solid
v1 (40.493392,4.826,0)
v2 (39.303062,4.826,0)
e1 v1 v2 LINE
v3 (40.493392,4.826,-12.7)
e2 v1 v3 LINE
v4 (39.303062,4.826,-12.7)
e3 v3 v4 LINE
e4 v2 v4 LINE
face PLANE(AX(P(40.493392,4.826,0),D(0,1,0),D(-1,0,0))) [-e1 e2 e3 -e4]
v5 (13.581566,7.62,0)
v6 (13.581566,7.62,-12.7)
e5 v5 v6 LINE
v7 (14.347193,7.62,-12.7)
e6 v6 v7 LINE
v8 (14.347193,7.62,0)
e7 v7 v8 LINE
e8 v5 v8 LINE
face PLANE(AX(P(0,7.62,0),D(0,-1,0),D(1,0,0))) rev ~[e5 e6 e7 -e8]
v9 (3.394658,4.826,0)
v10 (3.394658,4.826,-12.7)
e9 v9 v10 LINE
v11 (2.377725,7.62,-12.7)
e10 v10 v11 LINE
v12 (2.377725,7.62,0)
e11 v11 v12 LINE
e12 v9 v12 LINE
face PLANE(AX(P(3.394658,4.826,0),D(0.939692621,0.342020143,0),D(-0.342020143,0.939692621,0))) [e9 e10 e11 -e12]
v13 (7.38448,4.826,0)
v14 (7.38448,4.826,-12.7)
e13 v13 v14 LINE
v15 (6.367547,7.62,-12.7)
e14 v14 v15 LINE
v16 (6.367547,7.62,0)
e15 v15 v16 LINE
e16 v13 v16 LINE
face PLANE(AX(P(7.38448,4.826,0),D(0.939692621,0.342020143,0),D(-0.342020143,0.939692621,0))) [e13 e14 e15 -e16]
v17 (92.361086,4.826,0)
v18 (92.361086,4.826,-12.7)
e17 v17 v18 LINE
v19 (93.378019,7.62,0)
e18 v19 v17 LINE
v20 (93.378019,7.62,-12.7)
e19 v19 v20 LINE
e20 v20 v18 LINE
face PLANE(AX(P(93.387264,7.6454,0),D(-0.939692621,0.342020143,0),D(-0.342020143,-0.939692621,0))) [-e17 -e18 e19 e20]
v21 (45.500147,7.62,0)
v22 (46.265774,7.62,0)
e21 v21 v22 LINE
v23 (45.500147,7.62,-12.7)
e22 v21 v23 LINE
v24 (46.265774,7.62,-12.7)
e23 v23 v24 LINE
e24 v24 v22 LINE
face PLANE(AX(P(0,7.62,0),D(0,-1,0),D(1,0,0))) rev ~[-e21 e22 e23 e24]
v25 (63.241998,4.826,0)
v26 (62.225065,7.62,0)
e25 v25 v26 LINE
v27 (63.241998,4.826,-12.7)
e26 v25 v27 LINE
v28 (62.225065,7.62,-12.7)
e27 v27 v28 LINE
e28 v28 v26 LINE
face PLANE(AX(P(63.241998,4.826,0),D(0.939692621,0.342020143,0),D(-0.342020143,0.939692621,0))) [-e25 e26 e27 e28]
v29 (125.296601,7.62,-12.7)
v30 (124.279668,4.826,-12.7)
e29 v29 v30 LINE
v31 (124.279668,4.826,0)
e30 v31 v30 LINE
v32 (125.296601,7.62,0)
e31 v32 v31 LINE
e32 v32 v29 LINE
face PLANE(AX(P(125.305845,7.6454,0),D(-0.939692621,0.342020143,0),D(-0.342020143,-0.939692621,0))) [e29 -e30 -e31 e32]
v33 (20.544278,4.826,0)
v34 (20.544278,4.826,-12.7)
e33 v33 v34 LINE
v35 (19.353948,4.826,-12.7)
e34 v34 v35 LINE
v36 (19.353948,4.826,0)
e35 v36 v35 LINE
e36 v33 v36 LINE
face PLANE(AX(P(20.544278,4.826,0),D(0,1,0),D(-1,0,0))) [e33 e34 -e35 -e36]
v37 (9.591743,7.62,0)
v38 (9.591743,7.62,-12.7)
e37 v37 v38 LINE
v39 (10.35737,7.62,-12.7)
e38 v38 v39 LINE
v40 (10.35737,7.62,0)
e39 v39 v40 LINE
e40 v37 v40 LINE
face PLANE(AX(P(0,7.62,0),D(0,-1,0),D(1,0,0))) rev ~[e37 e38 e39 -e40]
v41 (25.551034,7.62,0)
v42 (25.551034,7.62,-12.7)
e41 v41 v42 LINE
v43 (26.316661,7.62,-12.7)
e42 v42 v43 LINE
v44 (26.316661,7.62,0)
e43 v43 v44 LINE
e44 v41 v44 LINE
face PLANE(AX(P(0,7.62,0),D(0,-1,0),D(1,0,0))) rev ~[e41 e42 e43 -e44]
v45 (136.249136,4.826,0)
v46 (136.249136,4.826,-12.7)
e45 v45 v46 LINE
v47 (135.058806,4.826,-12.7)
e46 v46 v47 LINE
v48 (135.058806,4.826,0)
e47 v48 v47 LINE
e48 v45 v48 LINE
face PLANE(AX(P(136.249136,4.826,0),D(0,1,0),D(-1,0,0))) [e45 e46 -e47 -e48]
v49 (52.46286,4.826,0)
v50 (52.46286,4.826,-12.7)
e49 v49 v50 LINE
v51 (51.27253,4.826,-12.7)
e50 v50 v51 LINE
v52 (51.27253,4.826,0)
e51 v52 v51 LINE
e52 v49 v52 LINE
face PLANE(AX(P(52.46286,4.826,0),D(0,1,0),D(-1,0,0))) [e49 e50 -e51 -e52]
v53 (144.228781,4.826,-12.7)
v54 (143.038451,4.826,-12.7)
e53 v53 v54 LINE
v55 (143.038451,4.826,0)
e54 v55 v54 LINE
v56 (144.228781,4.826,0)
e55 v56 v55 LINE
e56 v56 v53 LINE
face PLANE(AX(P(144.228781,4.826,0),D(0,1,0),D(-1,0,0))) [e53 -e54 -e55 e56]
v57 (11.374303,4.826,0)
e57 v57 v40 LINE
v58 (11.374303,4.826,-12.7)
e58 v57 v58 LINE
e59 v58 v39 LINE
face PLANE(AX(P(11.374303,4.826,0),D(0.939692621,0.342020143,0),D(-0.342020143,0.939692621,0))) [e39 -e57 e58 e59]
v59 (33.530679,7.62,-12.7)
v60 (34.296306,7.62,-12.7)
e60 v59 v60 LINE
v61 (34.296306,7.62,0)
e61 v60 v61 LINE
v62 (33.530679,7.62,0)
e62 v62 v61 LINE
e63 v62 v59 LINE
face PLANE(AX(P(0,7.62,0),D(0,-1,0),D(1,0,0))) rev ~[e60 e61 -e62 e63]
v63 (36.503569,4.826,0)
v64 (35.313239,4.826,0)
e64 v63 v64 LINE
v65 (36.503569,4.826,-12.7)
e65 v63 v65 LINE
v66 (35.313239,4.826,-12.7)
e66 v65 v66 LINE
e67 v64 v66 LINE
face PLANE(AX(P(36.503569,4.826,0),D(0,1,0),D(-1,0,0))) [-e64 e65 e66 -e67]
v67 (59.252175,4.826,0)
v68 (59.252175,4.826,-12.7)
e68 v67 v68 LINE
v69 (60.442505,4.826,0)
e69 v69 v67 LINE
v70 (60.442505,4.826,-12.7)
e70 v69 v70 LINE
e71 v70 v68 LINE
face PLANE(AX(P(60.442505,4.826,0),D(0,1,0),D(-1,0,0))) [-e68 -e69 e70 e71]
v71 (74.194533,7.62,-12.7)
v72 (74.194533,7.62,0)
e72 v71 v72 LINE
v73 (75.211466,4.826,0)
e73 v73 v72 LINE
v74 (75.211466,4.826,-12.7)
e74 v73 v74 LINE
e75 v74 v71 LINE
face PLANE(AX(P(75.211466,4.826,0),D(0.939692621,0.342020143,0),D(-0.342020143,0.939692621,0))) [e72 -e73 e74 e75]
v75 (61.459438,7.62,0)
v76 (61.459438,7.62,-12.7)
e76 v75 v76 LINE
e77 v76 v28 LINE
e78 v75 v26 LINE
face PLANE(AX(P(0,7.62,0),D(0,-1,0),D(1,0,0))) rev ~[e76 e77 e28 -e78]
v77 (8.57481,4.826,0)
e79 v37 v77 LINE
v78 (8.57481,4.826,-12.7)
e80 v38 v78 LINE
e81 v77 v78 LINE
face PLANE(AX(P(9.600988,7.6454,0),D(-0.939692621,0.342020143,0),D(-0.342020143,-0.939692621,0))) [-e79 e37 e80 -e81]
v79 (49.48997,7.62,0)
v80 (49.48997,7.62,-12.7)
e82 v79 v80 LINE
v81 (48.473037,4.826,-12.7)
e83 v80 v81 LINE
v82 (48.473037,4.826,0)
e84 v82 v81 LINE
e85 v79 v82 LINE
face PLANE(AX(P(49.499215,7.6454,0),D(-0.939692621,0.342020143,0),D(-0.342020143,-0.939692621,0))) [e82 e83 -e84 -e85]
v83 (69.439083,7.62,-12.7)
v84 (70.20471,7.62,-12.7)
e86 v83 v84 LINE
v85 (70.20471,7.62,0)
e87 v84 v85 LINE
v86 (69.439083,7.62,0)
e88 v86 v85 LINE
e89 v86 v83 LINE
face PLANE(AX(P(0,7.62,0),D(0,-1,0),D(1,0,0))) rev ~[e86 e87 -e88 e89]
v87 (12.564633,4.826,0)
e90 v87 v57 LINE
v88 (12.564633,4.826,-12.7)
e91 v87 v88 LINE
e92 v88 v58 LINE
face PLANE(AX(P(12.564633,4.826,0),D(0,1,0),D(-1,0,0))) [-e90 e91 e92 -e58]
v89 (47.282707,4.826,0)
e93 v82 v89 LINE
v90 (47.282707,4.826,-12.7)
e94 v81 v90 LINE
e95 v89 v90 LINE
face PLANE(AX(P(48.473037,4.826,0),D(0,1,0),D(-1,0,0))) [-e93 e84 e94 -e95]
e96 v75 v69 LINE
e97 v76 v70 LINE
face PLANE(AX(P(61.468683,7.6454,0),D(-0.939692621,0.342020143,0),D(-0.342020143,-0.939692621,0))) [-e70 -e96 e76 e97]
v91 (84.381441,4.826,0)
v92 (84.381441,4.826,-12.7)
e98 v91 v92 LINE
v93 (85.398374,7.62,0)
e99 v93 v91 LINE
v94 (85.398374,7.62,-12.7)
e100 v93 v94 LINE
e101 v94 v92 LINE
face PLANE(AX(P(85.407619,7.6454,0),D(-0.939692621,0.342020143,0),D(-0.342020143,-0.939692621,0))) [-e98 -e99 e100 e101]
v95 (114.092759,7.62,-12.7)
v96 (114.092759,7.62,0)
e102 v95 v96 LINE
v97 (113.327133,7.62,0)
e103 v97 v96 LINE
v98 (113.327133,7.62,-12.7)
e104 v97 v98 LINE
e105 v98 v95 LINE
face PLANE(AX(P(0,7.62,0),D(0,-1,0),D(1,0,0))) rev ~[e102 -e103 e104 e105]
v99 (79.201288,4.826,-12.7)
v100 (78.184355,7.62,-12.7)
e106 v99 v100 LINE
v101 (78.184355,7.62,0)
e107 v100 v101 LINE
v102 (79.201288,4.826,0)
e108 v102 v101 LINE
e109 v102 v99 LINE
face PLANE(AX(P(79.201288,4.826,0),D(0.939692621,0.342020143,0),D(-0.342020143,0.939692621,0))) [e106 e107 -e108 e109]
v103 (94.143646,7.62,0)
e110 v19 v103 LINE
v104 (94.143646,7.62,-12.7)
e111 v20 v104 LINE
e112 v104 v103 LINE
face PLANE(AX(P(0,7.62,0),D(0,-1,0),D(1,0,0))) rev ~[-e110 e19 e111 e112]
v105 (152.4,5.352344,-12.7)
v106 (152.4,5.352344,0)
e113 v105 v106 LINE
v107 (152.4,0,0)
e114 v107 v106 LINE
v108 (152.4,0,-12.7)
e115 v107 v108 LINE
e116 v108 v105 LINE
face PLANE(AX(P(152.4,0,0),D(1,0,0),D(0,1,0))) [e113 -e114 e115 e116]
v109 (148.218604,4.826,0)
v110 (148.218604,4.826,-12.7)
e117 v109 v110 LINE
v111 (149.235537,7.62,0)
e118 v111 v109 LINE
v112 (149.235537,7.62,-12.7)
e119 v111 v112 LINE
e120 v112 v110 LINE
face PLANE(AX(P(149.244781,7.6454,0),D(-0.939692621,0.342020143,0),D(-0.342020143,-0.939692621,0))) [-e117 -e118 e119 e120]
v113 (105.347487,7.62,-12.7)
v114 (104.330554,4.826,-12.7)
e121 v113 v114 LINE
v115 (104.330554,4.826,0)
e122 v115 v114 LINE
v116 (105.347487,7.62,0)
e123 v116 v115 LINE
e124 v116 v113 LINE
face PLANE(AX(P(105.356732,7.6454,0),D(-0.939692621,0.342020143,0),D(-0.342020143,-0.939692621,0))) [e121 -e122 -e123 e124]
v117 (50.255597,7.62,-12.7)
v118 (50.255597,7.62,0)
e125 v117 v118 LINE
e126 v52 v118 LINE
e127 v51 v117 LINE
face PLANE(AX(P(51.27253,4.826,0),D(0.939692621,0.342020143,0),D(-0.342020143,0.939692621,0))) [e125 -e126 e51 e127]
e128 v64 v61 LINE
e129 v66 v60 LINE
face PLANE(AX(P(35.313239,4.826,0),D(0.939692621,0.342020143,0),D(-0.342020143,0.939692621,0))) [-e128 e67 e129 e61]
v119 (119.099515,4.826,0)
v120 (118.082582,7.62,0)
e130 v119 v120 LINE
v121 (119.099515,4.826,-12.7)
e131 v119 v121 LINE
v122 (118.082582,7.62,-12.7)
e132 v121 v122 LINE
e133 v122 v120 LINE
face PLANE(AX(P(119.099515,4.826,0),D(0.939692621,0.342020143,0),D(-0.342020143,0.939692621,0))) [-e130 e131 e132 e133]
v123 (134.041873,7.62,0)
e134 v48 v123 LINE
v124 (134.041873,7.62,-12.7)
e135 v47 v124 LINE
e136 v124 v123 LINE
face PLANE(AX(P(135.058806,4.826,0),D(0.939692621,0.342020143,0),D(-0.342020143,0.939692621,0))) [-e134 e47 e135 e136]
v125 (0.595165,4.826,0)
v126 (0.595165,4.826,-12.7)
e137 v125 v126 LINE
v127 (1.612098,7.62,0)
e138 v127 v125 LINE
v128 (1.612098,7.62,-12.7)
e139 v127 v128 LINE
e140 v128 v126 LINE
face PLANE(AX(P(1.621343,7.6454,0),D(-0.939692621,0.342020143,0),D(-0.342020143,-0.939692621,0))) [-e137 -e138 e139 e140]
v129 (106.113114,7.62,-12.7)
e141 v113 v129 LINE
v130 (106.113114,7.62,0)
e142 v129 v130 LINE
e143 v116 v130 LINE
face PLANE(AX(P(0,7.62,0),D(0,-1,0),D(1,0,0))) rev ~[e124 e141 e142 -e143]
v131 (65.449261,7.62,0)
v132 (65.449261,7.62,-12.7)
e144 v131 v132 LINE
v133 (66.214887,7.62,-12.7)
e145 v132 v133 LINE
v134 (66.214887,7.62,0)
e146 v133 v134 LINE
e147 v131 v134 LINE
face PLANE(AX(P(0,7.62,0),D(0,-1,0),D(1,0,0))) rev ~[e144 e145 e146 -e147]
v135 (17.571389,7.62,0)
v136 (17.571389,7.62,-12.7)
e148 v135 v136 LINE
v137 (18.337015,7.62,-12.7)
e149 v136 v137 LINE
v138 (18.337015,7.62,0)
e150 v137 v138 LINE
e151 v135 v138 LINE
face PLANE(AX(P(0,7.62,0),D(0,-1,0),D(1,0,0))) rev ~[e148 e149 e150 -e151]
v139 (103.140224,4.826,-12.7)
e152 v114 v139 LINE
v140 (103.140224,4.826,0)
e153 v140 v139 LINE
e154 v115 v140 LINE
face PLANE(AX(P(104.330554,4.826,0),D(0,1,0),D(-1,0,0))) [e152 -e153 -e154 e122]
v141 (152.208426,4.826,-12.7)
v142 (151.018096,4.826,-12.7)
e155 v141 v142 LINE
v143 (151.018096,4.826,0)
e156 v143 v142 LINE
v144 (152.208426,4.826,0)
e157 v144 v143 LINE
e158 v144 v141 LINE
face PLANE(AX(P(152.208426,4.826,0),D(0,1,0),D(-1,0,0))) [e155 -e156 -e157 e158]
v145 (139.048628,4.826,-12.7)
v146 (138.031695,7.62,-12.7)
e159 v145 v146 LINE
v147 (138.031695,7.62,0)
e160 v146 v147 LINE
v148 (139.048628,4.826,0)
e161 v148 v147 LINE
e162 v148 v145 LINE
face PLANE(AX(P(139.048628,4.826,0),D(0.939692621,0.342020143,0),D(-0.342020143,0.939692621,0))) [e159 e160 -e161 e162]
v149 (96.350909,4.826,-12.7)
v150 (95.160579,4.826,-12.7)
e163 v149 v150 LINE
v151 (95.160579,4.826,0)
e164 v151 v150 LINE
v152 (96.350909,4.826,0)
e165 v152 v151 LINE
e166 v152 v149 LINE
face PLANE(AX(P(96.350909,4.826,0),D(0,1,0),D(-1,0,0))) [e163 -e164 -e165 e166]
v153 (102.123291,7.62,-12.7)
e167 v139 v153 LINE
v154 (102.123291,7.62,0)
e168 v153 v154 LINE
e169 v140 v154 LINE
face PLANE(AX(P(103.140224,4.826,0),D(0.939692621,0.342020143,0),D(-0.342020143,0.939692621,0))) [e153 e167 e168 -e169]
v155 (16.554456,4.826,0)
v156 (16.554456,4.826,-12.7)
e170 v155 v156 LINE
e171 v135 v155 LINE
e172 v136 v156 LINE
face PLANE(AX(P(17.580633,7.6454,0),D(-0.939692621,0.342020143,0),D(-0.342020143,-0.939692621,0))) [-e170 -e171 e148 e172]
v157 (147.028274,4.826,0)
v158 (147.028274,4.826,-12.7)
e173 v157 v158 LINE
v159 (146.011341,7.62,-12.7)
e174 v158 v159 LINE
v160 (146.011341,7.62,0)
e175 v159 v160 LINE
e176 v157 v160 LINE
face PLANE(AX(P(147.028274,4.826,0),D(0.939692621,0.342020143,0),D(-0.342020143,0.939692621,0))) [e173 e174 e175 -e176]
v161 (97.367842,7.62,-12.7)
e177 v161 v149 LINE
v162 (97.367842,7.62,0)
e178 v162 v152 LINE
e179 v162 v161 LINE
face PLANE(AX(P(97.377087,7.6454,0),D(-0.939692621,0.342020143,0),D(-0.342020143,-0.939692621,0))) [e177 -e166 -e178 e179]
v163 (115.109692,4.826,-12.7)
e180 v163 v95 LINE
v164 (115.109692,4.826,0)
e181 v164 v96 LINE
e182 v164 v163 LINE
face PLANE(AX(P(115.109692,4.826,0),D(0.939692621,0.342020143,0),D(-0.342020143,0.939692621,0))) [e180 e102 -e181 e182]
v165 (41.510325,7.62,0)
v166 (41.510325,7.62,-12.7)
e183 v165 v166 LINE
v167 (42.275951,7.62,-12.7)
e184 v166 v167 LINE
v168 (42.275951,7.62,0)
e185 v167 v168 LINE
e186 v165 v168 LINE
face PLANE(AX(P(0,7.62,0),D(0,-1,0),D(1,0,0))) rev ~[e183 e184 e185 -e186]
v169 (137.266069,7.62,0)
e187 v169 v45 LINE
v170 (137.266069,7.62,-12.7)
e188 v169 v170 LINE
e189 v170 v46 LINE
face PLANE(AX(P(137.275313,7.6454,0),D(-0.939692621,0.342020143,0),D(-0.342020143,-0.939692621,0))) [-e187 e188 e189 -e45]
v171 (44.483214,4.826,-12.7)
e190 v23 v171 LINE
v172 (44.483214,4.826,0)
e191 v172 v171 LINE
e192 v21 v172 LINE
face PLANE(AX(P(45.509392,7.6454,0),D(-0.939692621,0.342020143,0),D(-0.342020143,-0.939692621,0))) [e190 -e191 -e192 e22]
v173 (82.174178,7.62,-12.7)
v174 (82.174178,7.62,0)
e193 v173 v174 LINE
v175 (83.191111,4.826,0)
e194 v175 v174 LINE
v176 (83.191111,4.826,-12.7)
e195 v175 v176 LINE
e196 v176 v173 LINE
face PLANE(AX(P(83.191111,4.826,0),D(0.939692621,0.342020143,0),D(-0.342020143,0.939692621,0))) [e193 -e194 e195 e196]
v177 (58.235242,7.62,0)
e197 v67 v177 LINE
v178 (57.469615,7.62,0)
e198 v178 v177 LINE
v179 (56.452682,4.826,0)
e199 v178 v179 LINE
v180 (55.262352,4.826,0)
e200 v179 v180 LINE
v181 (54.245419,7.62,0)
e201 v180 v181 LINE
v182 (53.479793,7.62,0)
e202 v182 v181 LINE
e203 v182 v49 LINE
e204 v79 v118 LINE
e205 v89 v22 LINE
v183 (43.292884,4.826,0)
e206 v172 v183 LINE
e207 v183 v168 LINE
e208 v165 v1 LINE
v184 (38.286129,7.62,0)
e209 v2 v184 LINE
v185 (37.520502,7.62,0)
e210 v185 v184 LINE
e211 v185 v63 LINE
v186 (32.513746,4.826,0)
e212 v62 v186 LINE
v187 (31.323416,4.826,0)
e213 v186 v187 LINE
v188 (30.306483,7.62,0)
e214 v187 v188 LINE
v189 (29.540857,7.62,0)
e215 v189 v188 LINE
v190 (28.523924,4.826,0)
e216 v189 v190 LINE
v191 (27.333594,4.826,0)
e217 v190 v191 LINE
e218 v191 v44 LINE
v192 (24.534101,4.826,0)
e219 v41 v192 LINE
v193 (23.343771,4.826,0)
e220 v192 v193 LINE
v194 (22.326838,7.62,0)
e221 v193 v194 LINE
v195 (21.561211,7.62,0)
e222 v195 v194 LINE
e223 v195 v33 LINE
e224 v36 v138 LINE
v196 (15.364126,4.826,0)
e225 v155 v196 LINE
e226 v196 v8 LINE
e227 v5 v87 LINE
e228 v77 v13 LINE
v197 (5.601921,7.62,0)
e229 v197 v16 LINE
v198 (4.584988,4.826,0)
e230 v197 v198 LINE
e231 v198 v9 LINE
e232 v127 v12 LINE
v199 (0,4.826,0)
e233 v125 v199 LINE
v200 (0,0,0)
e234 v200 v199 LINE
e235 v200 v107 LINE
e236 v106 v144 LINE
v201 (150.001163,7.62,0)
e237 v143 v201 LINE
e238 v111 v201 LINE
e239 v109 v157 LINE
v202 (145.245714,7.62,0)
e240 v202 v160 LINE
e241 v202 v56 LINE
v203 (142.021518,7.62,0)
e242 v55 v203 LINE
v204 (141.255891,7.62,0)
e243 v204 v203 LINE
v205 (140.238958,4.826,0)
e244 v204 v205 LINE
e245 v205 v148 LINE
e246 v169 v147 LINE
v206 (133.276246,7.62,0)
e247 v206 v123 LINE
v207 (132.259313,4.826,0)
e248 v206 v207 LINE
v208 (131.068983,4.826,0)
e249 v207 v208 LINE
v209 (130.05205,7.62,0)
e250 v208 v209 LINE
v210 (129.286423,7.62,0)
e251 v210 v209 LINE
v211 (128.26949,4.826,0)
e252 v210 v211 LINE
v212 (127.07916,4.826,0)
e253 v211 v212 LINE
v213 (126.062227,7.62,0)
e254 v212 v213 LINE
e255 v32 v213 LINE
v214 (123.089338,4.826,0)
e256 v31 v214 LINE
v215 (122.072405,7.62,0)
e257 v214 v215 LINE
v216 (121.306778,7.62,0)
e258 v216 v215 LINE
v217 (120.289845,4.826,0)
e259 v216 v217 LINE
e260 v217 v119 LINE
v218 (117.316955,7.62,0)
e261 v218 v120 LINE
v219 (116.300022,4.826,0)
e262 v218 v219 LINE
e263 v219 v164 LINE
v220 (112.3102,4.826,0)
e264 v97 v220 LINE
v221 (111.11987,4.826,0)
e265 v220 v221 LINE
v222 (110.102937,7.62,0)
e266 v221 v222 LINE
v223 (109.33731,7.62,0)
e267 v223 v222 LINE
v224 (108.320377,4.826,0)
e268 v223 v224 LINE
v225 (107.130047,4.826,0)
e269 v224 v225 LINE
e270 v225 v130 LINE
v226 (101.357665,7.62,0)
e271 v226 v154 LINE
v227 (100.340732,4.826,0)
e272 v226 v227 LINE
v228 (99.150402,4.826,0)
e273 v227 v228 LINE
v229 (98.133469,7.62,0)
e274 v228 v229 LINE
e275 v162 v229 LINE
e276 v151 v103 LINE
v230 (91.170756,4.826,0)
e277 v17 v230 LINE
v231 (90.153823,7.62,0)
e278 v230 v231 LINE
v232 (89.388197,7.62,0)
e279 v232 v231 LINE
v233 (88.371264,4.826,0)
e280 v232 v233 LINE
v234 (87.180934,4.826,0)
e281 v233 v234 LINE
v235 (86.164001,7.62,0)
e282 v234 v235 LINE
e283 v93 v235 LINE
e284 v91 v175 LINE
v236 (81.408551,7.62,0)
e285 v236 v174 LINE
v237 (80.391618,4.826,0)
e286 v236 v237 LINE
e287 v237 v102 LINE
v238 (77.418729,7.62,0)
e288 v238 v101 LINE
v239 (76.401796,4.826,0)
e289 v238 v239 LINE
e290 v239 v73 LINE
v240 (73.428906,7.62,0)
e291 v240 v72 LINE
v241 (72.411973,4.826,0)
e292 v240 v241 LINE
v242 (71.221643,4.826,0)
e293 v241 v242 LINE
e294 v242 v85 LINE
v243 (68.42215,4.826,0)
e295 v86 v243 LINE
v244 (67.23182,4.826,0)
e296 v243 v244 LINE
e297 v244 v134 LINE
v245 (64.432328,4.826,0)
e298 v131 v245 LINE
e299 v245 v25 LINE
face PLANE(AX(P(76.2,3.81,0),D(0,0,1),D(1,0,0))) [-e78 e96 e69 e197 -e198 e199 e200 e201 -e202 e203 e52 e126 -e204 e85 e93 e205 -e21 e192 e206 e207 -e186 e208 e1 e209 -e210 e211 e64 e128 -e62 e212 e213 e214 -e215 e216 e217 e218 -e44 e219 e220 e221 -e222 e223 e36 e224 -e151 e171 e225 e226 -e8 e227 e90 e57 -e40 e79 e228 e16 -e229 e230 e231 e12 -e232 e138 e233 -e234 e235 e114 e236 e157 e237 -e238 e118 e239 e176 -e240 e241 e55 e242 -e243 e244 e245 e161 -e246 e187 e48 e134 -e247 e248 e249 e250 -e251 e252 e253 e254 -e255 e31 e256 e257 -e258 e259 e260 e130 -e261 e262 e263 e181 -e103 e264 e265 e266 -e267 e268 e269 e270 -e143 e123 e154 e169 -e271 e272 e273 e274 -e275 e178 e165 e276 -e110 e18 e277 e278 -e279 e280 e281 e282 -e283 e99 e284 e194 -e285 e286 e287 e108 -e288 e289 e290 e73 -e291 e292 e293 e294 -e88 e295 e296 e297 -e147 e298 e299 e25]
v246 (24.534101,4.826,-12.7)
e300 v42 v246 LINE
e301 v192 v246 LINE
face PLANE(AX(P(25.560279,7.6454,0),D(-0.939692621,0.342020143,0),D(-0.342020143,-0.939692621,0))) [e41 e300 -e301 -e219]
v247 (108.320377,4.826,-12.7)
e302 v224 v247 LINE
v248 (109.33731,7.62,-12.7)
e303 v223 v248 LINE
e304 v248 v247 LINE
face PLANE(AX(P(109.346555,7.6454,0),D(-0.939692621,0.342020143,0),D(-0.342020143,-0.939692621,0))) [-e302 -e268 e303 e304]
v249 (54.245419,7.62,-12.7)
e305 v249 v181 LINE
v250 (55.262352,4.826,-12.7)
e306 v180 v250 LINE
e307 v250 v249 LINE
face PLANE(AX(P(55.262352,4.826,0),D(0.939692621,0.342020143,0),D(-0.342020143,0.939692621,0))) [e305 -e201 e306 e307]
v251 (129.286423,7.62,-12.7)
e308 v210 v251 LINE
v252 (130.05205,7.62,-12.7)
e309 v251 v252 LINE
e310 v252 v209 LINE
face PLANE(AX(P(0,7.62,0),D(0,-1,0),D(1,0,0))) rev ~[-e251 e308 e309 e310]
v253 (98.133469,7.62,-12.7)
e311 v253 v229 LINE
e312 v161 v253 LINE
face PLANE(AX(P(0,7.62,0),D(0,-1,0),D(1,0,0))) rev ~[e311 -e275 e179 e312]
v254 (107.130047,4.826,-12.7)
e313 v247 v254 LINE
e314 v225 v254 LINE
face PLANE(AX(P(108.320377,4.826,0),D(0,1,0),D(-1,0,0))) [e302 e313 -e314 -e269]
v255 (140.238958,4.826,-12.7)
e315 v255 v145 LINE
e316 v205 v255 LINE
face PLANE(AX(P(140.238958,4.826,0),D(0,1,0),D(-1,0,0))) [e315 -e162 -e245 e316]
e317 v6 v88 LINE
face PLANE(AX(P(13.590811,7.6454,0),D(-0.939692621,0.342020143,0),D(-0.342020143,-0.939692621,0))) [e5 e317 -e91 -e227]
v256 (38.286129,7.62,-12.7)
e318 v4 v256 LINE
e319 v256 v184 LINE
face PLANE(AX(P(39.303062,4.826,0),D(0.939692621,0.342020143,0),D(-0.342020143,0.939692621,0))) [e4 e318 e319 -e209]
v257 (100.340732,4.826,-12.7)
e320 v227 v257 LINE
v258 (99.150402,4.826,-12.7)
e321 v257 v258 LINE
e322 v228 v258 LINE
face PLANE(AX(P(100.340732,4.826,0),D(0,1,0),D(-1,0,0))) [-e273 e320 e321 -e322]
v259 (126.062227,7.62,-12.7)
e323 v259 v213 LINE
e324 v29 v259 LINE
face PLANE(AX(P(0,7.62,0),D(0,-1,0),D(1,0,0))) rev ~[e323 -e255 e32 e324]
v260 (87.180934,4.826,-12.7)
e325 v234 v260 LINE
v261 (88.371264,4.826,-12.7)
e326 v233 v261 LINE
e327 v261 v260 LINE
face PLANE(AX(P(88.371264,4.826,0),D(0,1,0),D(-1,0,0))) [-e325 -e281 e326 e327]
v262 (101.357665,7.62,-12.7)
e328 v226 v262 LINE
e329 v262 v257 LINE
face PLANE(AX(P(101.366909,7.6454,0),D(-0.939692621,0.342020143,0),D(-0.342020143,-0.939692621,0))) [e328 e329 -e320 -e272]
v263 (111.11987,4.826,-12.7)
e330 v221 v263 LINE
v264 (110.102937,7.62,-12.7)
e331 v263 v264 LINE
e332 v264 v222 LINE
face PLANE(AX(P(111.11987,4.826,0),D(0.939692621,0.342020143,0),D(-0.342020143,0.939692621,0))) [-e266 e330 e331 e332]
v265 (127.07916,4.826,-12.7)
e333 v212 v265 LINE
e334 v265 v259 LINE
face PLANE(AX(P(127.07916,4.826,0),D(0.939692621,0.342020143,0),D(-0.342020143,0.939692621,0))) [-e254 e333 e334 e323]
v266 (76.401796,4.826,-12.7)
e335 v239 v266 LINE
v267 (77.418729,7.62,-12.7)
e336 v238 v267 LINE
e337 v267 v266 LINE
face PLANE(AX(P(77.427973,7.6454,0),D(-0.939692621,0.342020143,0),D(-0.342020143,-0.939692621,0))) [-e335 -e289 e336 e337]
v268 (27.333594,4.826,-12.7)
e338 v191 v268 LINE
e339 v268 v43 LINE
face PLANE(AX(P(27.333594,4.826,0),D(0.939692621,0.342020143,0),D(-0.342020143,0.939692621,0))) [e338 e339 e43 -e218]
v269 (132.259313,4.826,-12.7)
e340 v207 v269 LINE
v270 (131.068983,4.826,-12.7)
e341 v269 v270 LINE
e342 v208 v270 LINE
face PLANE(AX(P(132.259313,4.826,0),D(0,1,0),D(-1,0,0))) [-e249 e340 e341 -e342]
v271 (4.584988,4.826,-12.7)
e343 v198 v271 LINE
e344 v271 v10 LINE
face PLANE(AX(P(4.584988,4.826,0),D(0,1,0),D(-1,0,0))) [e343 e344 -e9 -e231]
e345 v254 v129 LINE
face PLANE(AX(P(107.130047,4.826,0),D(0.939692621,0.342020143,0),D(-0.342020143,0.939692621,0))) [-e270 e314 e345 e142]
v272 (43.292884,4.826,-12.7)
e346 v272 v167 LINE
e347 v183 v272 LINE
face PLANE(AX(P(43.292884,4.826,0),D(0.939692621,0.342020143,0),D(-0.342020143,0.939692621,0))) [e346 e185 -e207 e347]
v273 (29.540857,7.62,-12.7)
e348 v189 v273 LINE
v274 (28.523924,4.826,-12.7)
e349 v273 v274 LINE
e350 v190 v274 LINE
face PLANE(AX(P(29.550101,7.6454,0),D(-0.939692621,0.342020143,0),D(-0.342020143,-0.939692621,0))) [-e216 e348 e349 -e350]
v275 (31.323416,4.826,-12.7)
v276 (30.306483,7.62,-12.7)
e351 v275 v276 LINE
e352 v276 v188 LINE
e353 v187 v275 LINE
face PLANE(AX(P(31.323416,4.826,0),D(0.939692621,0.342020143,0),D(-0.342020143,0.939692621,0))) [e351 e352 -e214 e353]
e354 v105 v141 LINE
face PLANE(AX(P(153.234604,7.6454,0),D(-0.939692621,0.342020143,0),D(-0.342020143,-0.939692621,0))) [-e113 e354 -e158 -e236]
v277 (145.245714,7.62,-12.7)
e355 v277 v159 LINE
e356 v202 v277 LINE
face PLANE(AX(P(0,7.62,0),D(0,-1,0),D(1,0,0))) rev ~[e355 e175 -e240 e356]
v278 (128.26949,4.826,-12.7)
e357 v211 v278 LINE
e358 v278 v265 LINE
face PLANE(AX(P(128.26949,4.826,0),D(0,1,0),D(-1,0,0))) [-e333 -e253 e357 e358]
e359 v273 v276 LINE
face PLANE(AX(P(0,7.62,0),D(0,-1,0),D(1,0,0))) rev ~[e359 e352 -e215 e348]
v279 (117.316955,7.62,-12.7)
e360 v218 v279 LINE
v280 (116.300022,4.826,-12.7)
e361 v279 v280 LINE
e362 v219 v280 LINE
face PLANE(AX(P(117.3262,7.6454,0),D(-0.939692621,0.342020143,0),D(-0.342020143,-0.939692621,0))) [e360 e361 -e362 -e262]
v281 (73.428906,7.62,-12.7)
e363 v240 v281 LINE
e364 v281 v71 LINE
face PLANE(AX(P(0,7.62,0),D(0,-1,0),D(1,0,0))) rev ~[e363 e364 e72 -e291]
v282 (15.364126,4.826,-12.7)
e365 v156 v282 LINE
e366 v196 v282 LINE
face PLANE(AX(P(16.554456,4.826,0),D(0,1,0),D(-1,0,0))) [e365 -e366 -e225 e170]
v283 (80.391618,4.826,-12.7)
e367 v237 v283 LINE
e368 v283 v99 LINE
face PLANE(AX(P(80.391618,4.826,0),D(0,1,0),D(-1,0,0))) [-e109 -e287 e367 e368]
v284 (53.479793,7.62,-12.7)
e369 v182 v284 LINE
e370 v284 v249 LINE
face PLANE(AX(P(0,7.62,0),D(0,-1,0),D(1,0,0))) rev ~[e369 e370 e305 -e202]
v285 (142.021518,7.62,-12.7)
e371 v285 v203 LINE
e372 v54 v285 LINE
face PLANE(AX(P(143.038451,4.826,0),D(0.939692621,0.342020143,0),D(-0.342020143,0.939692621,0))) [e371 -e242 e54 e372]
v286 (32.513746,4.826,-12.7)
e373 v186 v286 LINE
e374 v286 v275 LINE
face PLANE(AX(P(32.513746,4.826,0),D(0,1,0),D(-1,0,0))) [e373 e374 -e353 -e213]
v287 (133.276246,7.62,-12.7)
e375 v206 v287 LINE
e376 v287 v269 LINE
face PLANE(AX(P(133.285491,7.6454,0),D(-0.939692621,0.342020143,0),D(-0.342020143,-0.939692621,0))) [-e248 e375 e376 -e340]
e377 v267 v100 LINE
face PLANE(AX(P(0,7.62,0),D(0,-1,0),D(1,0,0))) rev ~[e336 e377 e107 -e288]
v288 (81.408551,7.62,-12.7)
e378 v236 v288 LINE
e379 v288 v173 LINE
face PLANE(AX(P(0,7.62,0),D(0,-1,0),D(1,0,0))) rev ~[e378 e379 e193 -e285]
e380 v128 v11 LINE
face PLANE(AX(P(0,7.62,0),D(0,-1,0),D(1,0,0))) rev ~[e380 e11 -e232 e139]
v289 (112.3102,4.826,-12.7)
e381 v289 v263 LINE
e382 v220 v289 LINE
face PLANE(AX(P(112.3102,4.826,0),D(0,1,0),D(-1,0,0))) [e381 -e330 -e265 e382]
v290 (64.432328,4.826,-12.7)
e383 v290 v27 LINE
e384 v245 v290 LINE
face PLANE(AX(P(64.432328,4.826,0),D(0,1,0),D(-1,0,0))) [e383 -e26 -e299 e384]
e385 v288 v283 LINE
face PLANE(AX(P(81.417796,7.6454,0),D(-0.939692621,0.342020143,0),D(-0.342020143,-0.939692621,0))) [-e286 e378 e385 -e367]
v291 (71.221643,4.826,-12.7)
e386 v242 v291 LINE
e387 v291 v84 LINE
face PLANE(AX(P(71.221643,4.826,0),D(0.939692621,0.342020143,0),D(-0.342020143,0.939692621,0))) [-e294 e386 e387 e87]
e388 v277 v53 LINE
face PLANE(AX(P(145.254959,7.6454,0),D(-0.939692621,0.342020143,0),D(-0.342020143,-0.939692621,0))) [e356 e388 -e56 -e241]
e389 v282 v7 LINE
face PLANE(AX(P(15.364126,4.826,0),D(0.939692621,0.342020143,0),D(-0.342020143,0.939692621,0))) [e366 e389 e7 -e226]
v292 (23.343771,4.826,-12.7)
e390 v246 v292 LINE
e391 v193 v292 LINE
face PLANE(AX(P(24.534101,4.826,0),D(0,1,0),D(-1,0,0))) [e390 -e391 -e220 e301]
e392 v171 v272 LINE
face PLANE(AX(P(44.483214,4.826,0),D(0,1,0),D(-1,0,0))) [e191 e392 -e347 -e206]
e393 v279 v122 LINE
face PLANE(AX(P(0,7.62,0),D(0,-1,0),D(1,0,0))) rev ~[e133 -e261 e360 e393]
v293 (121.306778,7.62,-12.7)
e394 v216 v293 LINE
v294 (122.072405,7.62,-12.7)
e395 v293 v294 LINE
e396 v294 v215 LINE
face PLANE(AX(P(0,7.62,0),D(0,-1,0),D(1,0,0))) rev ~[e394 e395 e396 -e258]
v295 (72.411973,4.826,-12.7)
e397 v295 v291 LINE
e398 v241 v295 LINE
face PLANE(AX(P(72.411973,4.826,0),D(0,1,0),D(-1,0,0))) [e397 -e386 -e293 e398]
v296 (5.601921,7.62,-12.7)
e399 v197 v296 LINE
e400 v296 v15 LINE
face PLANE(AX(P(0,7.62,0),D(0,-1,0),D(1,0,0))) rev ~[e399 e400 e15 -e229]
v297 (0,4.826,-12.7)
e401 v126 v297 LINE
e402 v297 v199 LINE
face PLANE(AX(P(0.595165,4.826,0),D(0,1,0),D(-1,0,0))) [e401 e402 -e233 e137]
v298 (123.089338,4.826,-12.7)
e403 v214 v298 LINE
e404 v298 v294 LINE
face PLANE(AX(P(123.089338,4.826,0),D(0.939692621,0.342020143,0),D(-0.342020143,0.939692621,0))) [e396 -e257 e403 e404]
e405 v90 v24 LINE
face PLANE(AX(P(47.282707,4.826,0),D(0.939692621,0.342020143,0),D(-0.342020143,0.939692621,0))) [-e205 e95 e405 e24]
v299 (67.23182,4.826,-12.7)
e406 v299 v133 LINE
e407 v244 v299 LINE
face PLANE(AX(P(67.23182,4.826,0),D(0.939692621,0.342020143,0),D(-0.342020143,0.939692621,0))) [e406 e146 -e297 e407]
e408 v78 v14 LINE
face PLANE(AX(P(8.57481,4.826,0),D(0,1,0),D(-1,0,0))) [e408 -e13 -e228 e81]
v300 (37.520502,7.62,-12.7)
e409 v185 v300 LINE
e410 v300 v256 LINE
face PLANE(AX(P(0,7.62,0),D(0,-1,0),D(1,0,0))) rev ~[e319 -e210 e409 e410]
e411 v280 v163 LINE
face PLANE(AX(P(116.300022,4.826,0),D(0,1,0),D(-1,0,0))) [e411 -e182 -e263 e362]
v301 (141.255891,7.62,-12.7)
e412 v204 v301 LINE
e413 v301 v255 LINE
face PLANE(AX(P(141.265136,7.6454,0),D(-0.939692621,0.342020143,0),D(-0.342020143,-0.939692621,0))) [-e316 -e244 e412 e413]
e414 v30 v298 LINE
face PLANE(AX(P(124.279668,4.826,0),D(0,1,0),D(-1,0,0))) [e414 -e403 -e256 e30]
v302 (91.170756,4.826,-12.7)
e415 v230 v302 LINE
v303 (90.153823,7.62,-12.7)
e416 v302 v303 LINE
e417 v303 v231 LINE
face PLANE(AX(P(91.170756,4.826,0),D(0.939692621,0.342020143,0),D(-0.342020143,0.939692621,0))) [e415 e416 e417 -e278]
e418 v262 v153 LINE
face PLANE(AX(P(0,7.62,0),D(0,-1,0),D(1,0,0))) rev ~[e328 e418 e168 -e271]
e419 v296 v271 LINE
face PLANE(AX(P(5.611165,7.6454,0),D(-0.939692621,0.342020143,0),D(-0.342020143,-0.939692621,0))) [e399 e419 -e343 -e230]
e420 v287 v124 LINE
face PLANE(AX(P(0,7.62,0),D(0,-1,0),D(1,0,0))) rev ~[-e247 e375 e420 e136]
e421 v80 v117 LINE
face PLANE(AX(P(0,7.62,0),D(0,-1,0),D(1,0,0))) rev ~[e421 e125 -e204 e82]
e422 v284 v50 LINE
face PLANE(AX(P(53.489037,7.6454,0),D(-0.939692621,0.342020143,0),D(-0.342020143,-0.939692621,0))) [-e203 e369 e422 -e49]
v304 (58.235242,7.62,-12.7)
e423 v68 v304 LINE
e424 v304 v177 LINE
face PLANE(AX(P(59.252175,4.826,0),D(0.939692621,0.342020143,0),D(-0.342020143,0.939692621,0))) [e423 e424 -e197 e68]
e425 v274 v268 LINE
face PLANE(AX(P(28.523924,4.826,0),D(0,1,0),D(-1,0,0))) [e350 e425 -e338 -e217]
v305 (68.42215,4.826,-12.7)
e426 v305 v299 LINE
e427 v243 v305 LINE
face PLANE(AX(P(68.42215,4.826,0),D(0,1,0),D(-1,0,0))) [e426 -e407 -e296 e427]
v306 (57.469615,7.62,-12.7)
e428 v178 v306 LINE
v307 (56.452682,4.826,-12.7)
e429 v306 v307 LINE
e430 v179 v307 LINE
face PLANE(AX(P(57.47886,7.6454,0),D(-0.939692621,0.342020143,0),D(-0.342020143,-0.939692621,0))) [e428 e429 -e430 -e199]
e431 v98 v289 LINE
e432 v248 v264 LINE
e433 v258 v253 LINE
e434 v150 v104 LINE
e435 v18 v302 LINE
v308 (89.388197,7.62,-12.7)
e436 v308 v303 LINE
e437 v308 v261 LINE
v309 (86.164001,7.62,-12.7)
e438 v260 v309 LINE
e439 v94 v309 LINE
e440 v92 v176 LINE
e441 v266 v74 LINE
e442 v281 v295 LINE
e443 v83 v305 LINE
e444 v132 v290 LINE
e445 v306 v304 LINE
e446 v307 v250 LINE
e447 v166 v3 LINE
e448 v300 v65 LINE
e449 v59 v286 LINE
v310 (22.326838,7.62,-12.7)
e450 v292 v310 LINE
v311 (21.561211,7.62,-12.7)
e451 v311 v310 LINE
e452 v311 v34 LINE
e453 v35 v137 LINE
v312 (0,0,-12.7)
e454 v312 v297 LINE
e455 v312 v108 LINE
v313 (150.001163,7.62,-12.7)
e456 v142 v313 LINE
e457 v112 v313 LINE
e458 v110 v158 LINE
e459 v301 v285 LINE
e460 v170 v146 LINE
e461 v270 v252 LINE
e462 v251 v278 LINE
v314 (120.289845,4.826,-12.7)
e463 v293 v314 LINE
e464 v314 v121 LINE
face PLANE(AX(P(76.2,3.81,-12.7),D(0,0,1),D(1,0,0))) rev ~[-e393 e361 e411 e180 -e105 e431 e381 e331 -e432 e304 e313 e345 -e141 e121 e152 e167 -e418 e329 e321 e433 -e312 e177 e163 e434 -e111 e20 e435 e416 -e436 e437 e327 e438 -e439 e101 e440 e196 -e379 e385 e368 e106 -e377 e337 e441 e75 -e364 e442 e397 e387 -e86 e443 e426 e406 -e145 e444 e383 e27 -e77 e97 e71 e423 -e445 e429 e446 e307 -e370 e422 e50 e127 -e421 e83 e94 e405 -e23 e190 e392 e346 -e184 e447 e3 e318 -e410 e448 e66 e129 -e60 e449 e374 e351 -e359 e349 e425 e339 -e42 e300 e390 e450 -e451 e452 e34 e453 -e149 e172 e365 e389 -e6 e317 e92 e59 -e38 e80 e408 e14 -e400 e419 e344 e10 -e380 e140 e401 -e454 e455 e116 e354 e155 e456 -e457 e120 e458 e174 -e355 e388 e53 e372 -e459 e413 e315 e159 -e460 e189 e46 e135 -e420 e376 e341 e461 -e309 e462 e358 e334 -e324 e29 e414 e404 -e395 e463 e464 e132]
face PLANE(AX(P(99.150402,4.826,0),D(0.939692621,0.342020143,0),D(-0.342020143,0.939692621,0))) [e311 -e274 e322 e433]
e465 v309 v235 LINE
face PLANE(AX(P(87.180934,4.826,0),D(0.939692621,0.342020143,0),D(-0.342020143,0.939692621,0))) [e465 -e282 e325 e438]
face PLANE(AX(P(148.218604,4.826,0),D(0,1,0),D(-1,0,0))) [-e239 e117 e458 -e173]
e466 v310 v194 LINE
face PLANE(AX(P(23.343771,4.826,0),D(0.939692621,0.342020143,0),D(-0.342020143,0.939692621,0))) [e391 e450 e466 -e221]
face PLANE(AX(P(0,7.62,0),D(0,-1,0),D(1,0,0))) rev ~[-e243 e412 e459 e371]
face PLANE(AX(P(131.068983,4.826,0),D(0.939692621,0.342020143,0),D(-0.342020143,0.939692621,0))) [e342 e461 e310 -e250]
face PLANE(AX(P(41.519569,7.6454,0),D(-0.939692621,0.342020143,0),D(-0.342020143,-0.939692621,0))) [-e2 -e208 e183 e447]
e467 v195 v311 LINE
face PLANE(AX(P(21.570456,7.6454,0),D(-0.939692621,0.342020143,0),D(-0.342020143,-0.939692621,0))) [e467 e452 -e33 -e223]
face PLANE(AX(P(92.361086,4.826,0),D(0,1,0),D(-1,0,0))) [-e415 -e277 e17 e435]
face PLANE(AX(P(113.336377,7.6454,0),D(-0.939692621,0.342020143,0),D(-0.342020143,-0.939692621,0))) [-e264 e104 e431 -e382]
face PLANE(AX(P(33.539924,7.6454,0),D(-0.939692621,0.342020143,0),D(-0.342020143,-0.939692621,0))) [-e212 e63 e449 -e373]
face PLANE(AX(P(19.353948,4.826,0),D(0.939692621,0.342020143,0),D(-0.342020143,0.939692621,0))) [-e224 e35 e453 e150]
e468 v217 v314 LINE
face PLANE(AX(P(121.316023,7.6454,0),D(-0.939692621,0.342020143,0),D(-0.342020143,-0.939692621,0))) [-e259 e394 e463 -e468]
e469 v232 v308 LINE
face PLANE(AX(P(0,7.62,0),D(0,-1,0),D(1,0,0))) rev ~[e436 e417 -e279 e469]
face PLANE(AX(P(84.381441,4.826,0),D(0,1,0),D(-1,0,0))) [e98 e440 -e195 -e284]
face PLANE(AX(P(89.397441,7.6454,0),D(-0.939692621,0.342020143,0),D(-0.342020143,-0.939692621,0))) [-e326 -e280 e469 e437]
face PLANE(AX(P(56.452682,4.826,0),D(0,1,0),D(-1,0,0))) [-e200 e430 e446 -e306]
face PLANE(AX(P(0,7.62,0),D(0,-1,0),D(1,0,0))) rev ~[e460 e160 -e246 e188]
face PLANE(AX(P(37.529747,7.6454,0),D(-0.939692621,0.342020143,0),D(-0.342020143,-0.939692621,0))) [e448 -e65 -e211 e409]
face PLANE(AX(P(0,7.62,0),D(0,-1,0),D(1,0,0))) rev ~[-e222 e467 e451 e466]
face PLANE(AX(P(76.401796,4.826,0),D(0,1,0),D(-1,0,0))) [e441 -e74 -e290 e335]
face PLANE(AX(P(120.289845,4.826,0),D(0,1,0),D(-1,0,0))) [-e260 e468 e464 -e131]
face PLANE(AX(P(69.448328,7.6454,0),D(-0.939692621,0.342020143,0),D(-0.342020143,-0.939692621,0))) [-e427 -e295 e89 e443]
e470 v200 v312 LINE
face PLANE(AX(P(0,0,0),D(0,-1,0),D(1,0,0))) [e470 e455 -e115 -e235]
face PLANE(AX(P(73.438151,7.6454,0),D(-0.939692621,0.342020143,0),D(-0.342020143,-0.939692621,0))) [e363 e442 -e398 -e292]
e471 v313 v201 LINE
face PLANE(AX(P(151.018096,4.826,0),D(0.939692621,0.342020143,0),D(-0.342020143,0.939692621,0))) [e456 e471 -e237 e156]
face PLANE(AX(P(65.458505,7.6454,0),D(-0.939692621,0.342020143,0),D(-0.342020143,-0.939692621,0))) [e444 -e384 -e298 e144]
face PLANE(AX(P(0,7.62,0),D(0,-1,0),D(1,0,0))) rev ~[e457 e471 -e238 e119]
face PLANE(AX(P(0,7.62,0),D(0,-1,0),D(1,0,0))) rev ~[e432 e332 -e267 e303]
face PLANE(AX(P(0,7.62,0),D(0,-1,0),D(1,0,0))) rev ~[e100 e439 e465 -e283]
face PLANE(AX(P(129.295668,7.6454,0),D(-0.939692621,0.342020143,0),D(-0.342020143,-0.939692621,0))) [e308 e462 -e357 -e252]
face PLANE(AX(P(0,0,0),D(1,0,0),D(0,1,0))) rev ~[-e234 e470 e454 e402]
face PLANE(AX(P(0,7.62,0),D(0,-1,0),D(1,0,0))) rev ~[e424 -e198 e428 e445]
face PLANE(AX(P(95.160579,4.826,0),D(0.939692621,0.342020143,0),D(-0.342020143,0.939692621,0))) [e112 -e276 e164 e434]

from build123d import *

# Parameters (mm, degrees)
BLANKSKE_W        = 152.4
BLANKSKE_H        = 7.62
BLANK_DEPTH       = 12.7
TOOTHCUTSIM_DEPTH = 154.117975431
TEETHCUTS_COUNT   = 39
TEETHCUTS_PITCH   = 3.989822666


with BuildPart() as part:
    # BlankSke → Blank (new body)
    with BuildSketch(Plane.XY):
        with Locations((76.2, 3.81)):
            Rectangle(BLANKSKE_W, BLANKSKE_H)
    extrude(amount=-BLANK_DEPTH)

    # TooCutSkeSim → ToothCutSim (cut, through all)
    with BuildSketch(Plane.XY):
        Polygon((0.595165029, 4.826), (-0.595165029, 4.826), (-1.621342708, 7.6454), (1.621342708, 7.6454), align=None)
    toothcutsim = extrude(amount=-TOOTHCUTSIM_DEPTH, mode=Mode.SUBTRACT)

    # TeethCuts: ToothCutSim ×39
    with Locations(*[(i * TEETHCUTS_PITCH, 0, 0) for i in range(1, TEETHCUTS_COUNT)]):
        add(toothcutsim, mode=Mode.SUBTRACT)


solid = part.part
